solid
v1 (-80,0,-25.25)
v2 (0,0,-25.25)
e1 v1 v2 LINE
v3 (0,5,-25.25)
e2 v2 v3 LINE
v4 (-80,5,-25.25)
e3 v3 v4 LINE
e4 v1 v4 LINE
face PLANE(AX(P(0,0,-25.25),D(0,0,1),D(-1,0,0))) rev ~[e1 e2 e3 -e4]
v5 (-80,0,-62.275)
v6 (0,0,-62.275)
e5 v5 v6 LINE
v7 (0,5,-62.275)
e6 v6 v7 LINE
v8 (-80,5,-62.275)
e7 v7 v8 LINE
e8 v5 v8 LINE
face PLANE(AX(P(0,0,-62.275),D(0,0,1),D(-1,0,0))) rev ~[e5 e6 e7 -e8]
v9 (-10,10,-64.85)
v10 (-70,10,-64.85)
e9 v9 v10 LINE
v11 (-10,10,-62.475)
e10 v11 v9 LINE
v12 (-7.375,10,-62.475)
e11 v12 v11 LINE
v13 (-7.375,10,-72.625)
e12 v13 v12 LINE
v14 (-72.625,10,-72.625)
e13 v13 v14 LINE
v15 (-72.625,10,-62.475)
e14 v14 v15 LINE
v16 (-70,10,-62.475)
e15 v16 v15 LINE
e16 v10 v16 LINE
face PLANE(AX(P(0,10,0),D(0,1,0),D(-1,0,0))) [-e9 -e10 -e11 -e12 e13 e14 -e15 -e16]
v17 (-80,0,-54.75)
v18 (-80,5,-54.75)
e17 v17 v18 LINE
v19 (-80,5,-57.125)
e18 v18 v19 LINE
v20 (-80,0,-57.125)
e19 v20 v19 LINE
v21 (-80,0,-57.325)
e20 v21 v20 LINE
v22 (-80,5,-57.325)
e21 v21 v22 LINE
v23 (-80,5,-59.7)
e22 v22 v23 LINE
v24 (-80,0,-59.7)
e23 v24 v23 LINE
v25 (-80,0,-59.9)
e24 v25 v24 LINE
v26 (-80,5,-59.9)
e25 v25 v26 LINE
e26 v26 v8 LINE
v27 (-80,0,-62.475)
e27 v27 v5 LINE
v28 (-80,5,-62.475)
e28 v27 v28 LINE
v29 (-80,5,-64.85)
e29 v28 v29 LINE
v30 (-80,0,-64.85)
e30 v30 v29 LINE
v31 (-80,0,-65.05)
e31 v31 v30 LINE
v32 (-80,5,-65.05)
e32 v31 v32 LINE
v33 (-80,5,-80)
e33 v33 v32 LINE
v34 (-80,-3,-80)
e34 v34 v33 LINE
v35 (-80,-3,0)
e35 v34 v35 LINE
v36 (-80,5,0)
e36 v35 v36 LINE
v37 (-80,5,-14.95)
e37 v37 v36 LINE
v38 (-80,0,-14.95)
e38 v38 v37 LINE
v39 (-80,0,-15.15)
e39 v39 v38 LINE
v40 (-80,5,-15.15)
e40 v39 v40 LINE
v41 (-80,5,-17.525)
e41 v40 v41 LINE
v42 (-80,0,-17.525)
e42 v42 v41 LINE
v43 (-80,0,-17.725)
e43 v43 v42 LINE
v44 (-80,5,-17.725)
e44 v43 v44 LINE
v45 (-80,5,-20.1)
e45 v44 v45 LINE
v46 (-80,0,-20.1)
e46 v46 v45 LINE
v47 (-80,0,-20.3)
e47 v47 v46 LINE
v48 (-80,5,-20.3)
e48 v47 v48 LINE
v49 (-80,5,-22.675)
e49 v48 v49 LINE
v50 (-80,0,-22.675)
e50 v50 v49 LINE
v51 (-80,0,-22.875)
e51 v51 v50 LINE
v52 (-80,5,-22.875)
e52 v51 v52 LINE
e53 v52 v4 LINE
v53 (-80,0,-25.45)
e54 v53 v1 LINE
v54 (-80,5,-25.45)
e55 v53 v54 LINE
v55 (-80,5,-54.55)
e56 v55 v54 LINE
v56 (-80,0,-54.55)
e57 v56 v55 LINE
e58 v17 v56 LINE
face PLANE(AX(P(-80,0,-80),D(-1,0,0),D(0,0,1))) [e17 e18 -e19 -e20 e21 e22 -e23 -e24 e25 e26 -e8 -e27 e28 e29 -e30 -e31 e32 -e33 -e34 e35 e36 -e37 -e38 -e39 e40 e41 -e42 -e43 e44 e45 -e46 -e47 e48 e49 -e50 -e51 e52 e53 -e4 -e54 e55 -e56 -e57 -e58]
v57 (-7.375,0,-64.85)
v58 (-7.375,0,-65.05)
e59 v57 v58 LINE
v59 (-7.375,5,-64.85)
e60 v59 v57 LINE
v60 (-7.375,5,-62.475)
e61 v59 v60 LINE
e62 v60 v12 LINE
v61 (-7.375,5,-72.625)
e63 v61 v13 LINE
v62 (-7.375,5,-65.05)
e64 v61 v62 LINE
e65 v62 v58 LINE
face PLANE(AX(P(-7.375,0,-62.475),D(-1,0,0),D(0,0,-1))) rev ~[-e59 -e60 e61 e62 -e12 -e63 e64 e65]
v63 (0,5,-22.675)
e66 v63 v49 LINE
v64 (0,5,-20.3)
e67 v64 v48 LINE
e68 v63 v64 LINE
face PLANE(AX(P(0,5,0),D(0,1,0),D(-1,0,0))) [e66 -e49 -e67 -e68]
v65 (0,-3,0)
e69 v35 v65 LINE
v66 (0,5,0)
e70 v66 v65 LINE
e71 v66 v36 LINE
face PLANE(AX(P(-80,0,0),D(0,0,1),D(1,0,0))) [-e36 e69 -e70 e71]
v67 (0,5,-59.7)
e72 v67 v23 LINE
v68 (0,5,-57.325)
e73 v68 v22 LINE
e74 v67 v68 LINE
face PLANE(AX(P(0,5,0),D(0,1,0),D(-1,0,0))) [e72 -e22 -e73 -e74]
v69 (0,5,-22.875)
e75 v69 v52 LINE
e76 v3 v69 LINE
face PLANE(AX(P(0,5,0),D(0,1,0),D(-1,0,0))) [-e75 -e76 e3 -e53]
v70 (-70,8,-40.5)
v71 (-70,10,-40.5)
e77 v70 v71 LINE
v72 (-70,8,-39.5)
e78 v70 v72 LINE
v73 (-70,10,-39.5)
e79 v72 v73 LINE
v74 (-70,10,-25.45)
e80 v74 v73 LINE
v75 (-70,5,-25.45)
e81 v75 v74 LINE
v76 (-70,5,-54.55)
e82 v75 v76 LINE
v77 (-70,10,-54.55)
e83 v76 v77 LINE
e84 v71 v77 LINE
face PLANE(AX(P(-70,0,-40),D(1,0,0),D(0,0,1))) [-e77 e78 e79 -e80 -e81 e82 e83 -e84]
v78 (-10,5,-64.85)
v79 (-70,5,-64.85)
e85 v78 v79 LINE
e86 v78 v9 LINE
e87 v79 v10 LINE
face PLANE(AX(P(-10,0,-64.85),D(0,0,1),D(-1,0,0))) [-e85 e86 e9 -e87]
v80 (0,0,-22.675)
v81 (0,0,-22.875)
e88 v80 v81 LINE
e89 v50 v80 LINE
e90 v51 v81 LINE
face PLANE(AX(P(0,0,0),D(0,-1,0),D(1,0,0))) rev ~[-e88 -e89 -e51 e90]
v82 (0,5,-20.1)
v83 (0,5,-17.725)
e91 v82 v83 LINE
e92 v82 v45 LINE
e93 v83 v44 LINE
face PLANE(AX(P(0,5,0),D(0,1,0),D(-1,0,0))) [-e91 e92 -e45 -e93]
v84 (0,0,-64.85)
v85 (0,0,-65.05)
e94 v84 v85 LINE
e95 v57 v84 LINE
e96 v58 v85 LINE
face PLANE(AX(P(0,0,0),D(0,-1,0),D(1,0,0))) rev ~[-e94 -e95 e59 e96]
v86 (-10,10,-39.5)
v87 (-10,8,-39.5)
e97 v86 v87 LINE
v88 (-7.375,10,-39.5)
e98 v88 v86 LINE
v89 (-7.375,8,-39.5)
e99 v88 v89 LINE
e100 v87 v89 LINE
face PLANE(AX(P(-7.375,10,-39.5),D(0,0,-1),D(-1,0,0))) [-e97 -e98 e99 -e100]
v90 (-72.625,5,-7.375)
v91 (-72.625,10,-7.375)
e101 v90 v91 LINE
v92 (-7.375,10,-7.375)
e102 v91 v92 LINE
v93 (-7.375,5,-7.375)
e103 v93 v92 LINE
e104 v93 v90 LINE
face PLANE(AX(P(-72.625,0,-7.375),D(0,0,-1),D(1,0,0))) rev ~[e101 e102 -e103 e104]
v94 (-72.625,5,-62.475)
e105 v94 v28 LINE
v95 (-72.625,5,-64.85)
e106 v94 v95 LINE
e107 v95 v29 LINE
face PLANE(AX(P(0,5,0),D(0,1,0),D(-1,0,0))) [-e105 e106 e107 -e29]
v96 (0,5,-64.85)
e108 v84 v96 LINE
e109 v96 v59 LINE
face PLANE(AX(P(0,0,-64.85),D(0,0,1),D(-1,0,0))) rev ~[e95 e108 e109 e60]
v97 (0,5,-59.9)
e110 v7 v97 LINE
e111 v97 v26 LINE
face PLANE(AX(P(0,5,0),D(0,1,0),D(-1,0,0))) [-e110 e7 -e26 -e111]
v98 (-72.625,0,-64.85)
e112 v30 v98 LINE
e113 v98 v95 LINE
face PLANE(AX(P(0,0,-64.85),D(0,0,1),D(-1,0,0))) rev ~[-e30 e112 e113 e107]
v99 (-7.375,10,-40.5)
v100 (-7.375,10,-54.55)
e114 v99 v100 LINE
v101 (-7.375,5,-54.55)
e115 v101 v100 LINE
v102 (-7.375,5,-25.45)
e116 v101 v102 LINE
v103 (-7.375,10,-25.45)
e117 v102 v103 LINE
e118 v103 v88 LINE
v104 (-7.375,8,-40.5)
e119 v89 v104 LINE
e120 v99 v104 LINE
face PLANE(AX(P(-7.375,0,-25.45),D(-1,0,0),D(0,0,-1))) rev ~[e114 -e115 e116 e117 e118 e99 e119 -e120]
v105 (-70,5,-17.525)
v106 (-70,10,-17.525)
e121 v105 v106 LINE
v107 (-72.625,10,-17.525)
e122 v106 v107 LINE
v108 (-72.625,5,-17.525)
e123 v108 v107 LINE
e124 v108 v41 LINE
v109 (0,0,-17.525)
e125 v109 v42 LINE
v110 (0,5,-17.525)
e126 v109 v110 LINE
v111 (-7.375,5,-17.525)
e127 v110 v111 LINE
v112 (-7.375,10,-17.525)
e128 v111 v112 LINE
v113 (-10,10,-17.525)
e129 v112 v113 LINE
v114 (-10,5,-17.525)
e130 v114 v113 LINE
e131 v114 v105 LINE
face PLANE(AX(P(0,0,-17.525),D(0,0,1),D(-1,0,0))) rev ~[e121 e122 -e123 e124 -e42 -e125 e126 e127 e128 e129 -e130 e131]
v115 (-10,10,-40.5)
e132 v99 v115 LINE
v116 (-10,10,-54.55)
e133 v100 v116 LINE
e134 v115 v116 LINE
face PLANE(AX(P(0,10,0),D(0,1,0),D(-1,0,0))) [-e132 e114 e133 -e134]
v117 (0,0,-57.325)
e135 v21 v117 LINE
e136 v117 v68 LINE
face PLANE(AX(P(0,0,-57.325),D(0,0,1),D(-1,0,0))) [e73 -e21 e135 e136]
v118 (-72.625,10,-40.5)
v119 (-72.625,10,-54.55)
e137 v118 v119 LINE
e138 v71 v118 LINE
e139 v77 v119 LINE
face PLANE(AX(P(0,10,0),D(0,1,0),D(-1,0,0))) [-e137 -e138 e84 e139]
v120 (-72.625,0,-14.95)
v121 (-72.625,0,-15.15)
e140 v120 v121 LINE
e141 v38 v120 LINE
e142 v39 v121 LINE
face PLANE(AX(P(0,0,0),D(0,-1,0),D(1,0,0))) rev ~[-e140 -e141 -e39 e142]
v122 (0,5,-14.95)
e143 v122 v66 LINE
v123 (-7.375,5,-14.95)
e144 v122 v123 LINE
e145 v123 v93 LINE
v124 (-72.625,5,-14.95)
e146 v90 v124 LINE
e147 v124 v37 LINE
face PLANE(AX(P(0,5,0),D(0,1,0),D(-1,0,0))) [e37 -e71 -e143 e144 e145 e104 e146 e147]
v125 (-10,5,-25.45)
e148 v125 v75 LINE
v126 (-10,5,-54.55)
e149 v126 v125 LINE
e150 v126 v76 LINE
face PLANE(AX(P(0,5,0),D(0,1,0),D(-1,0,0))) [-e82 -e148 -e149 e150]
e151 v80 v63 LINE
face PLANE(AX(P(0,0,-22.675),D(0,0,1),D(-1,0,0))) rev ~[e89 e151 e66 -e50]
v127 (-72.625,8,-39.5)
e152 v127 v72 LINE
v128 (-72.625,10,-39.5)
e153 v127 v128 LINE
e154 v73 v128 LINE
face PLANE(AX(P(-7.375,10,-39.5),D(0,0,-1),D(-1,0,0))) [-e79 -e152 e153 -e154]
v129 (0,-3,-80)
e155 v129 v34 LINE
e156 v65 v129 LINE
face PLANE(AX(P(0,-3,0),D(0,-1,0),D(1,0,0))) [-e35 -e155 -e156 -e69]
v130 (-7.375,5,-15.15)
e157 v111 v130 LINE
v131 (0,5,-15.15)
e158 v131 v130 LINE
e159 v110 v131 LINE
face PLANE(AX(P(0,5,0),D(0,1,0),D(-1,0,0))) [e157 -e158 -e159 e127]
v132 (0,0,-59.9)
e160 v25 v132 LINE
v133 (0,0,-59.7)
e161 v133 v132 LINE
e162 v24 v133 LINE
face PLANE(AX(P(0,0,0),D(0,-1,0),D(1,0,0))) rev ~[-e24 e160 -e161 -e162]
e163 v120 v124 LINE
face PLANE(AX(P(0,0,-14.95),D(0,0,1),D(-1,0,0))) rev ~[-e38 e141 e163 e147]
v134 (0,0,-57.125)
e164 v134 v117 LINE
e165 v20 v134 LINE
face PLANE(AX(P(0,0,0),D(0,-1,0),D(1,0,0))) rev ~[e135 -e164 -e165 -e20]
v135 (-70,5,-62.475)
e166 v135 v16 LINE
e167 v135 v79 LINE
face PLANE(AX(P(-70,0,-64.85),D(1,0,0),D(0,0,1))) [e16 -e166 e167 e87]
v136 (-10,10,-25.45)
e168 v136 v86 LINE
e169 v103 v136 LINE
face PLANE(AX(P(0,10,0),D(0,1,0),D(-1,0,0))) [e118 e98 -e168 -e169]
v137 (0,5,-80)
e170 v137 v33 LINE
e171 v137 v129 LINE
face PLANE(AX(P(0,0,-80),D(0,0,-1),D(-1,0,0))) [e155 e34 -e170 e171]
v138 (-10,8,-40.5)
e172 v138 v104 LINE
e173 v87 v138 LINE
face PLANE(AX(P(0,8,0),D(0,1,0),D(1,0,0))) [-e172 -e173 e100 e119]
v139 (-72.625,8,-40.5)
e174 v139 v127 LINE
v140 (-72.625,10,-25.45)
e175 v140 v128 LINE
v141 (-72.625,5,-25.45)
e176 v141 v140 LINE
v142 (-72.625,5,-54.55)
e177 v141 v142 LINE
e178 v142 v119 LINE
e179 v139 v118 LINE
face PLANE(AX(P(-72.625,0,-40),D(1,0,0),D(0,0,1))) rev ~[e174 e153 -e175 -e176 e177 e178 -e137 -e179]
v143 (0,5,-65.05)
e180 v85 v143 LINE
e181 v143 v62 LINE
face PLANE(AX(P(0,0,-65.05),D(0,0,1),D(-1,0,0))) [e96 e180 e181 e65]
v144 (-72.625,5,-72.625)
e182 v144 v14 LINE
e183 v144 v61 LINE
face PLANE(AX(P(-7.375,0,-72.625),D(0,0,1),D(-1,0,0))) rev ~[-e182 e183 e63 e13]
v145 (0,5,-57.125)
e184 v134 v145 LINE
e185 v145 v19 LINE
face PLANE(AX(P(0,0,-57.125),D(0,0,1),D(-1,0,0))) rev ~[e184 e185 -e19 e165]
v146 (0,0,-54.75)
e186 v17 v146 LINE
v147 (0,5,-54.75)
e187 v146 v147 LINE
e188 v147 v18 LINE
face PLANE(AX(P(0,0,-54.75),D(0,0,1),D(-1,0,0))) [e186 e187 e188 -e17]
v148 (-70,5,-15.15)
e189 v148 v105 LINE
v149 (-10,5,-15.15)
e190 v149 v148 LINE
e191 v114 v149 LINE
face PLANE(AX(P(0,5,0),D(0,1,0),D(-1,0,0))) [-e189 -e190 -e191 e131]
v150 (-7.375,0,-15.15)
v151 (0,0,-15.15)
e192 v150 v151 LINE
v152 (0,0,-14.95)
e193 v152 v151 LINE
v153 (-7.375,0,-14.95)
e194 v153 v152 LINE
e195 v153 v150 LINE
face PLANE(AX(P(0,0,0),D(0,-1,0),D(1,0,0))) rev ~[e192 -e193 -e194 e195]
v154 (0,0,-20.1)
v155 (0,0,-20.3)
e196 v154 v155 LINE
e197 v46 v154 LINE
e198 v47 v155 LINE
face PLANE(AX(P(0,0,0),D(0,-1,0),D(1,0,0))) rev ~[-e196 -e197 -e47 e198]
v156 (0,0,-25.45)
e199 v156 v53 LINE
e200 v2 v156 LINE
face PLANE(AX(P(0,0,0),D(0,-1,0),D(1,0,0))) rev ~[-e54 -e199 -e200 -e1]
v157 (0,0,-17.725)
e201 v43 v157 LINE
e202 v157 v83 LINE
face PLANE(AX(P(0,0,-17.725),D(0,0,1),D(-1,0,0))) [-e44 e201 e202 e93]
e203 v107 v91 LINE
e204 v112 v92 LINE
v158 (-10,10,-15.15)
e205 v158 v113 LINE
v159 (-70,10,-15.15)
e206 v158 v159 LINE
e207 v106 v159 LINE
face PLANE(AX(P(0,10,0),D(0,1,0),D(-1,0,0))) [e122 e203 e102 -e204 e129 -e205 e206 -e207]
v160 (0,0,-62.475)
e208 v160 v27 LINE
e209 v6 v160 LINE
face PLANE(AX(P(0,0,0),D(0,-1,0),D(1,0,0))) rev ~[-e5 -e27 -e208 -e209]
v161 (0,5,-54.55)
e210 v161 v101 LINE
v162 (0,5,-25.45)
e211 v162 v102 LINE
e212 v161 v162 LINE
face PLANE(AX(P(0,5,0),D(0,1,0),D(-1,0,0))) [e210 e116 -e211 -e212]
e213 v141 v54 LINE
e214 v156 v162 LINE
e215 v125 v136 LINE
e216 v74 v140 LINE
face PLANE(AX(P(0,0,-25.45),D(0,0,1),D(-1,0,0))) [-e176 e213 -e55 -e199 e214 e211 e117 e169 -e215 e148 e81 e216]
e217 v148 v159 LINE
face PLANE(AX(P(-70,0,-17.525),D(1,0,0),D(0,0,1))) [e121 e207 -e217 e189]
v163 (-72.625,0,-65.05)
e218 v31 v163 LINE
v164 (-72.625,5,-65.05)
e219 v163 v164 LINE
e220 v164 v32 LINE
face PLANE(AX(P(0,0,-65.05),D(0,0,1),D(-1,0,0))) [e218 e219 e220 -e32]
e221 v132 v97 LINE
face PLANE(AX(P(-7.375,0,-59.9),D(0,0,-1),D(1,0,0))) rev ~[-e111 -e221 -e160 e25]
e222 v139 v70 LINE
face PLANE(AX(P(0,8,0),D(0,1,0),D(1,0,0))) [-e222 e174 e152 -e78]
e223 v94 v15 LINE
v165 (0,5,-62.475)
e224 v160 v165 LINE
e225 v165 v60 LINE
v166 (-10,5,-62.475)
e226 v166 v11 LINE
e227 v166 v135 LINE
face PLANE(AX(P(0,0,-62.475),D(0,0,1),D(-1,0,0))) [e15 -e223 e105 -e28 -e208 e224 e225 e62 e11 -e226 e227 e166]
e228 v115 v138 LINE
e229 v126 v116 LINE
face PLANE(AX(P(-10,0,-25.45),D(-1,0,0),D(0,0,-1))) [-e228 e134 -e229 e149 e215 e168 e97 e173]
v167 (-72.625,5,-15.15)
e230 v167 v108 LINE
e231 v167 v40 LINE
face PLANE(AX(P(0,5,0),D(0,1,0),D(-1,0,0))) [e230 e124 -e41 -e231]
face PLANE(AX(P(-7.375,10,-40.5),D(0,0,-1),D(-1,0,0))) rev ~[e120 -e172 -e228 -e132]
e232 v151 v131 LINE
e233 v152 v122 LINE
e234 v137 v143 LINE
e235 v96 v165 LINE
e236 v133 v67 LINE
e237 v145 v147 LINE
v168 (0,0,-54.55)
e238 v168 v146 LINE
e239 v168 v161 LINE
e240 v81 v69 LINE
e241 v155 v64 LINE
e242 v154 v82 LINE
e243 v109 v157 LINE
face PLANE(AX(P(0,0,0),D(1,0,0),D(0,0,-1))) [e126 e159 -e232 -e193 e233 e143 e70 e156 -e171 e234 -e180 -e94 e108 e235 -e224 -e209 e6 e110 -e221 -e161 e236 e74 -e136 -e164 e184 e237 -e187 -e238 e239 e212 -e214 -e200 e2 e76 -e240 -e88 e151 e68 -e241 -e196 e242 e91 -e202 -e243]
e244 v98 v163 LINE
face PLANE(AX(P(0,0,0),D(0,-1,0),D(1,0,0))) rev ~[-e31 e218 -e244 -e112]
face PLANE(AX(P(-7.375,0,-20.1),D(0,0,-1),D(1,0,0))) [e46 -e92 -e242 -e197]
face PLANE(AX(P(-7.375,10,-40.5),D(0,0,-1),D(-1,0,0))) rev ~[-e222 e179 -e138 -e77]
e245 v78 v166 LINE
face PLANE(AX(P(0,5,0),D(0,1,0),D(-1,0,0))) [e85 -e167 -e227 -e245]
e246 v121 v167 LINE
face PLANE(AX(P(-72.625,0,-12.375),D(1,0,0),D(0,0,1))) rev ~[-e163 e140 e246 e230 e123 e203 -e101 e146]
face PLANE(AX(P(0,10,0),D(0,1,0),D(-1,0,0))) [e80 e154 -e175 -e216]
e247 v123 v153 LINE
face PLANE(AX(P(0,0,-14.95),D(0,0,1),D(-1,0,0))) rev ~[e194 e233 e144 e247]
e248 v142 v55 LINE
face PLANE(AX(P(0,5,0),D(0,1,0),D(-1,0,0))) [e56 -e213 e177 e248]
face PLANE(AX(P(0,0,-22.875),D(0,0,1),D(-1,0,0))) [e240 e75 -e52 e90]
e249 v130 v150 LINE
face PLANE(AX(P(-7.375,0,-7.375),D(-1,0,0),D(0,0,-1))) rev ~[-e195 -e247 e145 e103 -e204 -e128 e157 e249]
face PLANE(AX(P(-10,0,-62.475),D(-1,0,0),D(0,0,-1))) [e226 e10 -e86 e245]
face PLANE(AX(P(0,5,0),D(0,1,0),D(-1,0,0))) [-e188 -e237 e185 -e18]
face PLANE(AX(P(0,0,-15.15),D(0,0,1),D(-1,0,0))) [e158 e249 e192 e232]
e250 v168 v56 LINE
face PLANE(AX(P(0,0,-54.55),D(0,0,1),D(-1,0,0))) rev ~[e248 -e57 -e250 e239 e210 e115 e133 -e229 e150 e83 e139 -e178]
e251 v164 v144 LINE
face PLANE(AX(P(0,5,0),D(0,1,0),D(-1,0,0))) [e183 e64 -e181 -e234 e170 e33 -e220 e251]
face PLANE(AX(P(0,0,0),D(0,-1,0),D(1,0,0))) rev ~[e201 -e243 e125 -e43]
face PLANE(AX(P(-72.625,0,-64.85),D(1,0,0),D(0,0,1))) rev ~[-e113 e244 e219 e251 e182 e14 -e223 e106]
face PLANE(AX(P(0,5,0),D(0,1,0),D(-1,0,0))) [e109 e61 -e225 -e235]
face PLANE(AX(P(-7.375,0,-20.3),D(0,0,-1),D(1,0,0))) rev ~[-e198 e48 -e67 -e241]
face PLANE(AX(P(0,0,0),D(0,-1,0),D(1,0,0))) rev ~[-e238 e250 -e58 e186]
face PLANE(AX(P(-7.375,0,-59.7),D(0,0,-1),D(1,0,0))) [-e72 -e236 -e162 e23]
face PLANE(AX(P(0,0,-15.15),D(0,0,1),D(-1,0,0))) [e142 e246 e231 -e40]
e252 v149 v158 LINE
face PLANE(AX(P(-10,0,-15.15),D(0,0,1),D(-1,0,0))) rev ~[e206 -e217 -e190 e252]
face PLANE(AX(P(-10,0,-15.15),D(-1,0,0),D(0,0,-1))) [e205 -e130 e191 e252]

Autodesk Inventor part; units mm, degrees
ref_plane "YZ Plane" through (0, 0, 0) normal (1, 0, 0) x (0, 1, 0)
ref_plane "XZ Plane" through (0, 0, 0) normal (0, 1, 0) x (-1, 0, 0)
ref_plane "XY Plane" through (0, 0, 0) normal (0, 0, 1) x (1, 0, 0)
sketch "Boceto1" plane through (0, 0, 0) normal (0, 1, 0) x (-1, 0, 0)
  line L0 (0, 0) -> (80, 0)
  line L1 (80, 0) -> (80, -80)
  line L2 (80, -80) -> (0, -80)
  line L3 (0, -80) -> (0, 0)
  line L4 (10, -70) -> (70, -70)
  line L5 (70, -70) -> (70, -10)
  line L6 (70, -10) -> (10, -10)
  line L7 (10, -10) -> (10, -70)
  line L8 (0, -12.375) -> (80, -12.375)
  line L9 (0, -14.95) -> (80, -14.95)
  line L10 (0, -17.525) -> (80, -17.525)
  line L11 (80, -20.1) -> (0, -20.1)
  line L12 (0, -22.675) -> (80, -22.675)
  line L13 (0, -12.575) -> (80, -12.575)
  line L14 (0, -15.15) -> (80, -15.15)
  line L15 (0, -17.725) -> (80, -17.725)
  line L16 (80, -20.3) -> (0, -20.3)
  line L17 (0, -22.875) -> (80, -22.875)
  line L18 (0, -25.25) -> (80, -25.25)
  line L19 (0, -25.45) -> (80, -25.45)
  line L20 (10, -40) -> (80, -40)
  line L21 (0, -67.625) -> (80, -67.625)
  line L22 (0, -65.05) -> (80, -65.05)
  line L23 (0, -62.475) -> (80, -62.475)
  line L24 (80, -59.9) -> (0, -59.9)
  line L25 (0, -57.325) -> (80, -57.325)
  line L26 (0, -67.425) -> (80, -67.425)
  line L27 (0, -64.85) -> (80, -64.85)
  line L28 (0, -62.275) -> (80, -62.275)
  line L29 (80, -59.7) -> (0, -59.7)
  line L30 (0, -57.125) -> (80, -57.125)
  line L31 (0, -54.75) -> (80, -54.75)
  line L32 (0, -54.55) -> (80, -54.55)
  line L33 (72.625, -7.375) -> (7.375, -7.375)
  line L34 (7.375, -7.375) -> (7.375, -72.625)
  line L35 (7.375, -72.625) -> (72.625, -72.625)
  line L36 (72.625, -72.625) -> (72.625, -7.375)
  line L37 (7.375, 0) -> (0, 0)
  line L38 (7.375, -80) -> (0, -80)
  point P0 (10, -12.375)
  point P1 (70, -12.375)
  point P2 (10, -14.95)
  point P3 (70, -14.95)
  point P4 (10, -17.525)
  point P5 (70, -17.525)
  point P6 (70, -20.1)
  point P7 (10, -20.1)
  point P8 (10, -22.675)
  point P9 (70, -22.675)
  point P10 (10, -12.575)
  point P11 (70, -12.575)
  point P12 (10, -15.15)
  point P13 (70, -15.15)
  point P14 (10, -17.725)
  point P15 (70, -17.725)
  point P16 (70, -20.3)
  point P17 (10, -20.3)
  point P18 (10, -22.875)
  point P19 (70, -22.875)
  point P20 (10, -25.25)
  point P21 (70, -25.25)
  point P22 (10, -25.45)
  point P23 (70, -25.45)
  point P24 (10, -67.625)
  point P25 (70, -67.625)
  point P26 (10, -65.05)
  point P27 (70, -65.05)
  point P28 (10, -62.475)
  point P29 (70, -62.475)
  point P30 (70, -59.9)
  point P31 (10, -59.9)
  point P32 (10, -57.325)
  point P33 (70, -57.325)
  point P34 (10, -67.425)
  point P35 (70, -67.425)
  point P36 (10, -64.85)
  point P37 (70, -64.85)
  point P38 (10, -62.275)
  point P39 (70, -62.275)
  point P40 (70, -59.7)
  point P41 (10, -59.7)
  point P42 (10, -57.125)
  point P43 (70, -57.125)
  point P44 (10, -54.75)
  point P45 (70, -54.75)
  point P46 (10, -54.55)
  point P47 (70, -54.55)
  point P48 (72.625, -12.375)
  point P49 (7.375, -12.375)
  point P50 (72.625, -54.55)
  point P51 (72.625, -25.45)
  point P52 (70, -25.45)
  point P53 (70, -54.55)
  point P54 (7.375, -25.45)
  point P55 (7.375, -54.55)
  point P56 (10, -54.55)
  point P57 (10, -25.45)
  point P58 (10, -67.625)
  point P59 (7.375, -67.625)
  point P60 (72.625, -67.625)
  point P61 (70, -67.625)
  point P62 (7.375, -14.95)
  point P63 (72.625, -14.95)
  point P64 (72.625, -65.05)
  point P65 (70, -65.05)
  point P66 (10, -65.05)
  point P67 (7.375, -65.05)
  point P68 (70, -67.425)
  point P69 (10, -67.425)
  point P70 (10, -12.575)
  point P71 (70, -12.575)
  point P72 (72.625, -64.85)
  point P73 (7.375, -64.85)
  point P74 (7.375, -15.15)
  point P75 (70, -15.15)
  point P76 (7.375, -62.475)
  point P77 (10, -64.85)
  point P78 (10, -62.475)
  point P79 (72.625, -62.475)
  point P80 (70, -62.475)
  point P81 (70, -64.85)
  point P82 (7.375, -17.525)
  point P83 (10, -15.15)
  point P84 (72.625, -17.525)
  dimension "d0" = 80
  dimension "d1" = 80
  dimension "d2" = 60
  dimension "d3" = 60
  dimension "d4" = 10
  dimension "d5" = 10
  dimension "d6" = 2.375
  dimension "d7" = 0.2
  dimension "d8" = 2.375
  dimension "d9" = 0.2
  dimension "d10" = 0.2
  dimension "d11" = 0.2
  dimension "d12" = 0.2
  dimension "d13" = 2.375
  dimension "d14" = 2.375
  dimension "d15" = 2.375
  dimension "d16" = 2.375
  dimension "d17" = 0.2
  dimension "d35" = 5
extrude "Extrusión1" add sketch "Boceto1" along normal blind 5 contours L0 L1 L8 L36 L33 L34 L3 | L8 L34 L13 L3 | L13 L34 L9 L3 | L34 L33 L36 L8 L5 L6 L7 | L8 L7 L13 L34 | L1 L13 L36 L8 | L13 L7 L9 L34 | L8 L5 L13 L7 | L7 L6 L5 L8 | L1 L9 L36 L13 | L36 L13 L5 L8 | L14 L34 L10 L3 | L13 L5 L9 L7 | L36 L9 L5 L13 | L14 L7 L10 L34 | L1 L10 L36 L14 | L15 L34 L11 L3 | L14 L5 L10 L7 | L36 L10 L5 L14 | L15 L7 L11 L34 | L1 L11 L36 L15 | L16 L34 L12 L3 | L15 L5 L11 L7 | L36 L11 L5 L15 | L16 L7 L12 L34 | L1 L12 L36 L16 | L17 L34 L18 L3 | L16 L5 L12 L7 | L36 L12 L5 L16 | L17 L7 L18 L34 | L1 L18 L36 L17 | L19 L34 L32 L3 | L17 L5 L18 L7 | L36 L18 L5 L17 | L19 L7 L32 L34 | L1 L20 L36 L19 | L31 L34 L30 L3 | L19 L5 L20 L7 | L1 L32 L36 L20 | L36 L20 L5 L19 | L31 L7 L30 L34 | L7 L20 L5 L32 | L36 L32 L5 L20 | L25 L34 L29 L3 | L31 L5 L30 L7 | L1 L30 L36 L31 | L25 L7 L29 L34 | L31 L36 L30 L5 | L24 L34 L28 L3 | L25 L5 L29 L7 | L1 L29 L36 L25 | L24 L7 L28 L34 | L25 L36 L29 L5 | L23 L34 L27 L3 | L24 L5 L28 L7 | L1 L28 L36 L24 | L23 L7 L27 L34 | L24 L36 L28 L5 | L22 L34 L26 L3 | L23 L5 L27 L7 | L1 L27 L36 L23 | L26 L34 L21 L3 | L22 L7 L26 L34 | L23 L36 L27 L5 | L21 L34 L35 L36 L1 L2 L3 | L26 L7 L21 L34 | L22 L5 L26 L7 | L1 L26 L36 L22 | L21 L7 L4 L5 L36 L35 L34 | L26 L5 L21 L7 | L22 L36 L26 L5 | L1 L21 L36 L26 | L21 L5 L4 L7 | L26 L36 L21 L5
sketch "Boceto2" plane through (0, 0, 0) normal (0, -1, 0) x (1, 0, 0)
  line L0 (0, -80) -> (-80, -80) projected
  line L1 (-80, 0) -> (0, 0) projected
  line L2 (-80, -80) -> (-80, 0)
  line L3 (-80, 0) -> (0, 0)
  line L4 (-80, -65.05) -> (0, -65.05) construction
  line L5 (0, 0) -> (0, -80)
  line L6 (-80, -80) -> (0, -80)
extrude "Extrusión4" add sketch "Boceto2" along normal blind 3
extrude "Extrusión5" add sketch "Boceto1" along normal blind 10 contours L34 L33 L36 L8 L5 L6 L7 | L8 L7 L13 L34 | L13 L7 L9 L34 | L8 L5 L13 L7 | L7 L6 L5 L8 | L36 L13 L5 L8 | L9 L7 L14 L34 | L13 L5 L9 L7 | L36 L9 L5 L13 | L14 L7 L10 L34 | L9 L5 L14 L7 | L36 L14 L5 L9 | L36 L10 L5 L14 | L19 L7 L32 L34 | L36 L20 L5 L19 | L36 L32 L5 L20 | L23 L7 L27 L34 | L27 L7 L22 L34 | L22 L7 L26 L34 | L27 L5 L22 L7 | L23 L36 L27 L5 | L26 L7 L21 L34 | L22 L5 L26 L7 | L27 L36 L22 L5 | L21 L7 L4 L5 L36 L35 L34 | L26 L5 L21 L7 | L22 L36 L26 L5 | L21 L5 L4 L7 | L26 L36 L21 L5
sketch "Boceto3" plane through (0, 10, 0) normal (0, 1, 0) x (1, 0, 0)
  line L0 (-7.375, 25.45) -> (-7.375, 54.55) projected
  line L1 (-7.375, 40) -> (-86.5517, 40)
  line L2 (-5, 39.5) -> (-84.1767, 39.5)
  line L3 (-5, 40.5) -> (-84.1767, 40.5)
  line L4 (-10, 54.55) -> (-10, 25.45) projected
  line L5 (-5, 40.5) -> (-5, 39.5)
  line L6 (-84.1767, 40.5) -> (-84.1767, 39.5)
  point P0 (0, 0)
  point P1 (-10, 40)
  point P2 (-10, 39.5)
  point P3 (-10, 40.5)
  point P4 (-7.375, 39.5)
  point P5 (-7.375, 40.5)
  dimension "d31" = 0.5
  dimension "d32" = 0.5
extrude "Extrusión6" cut sketch "Boceto3" against normal blind 2 contours L2 L4 L1 L0 | L1 L4 L3 L0 | L2 L6 L1 L4 | L1 L6 L3 L4
equation "\"d8\" = d6"
equation "\"d9\" = d7"
equation "\"d10\" = d9"
equation "\"d11\" = d7"
equation "\"d12\" = d7"
equation "\"d13\" = d6"
equation "\"d14\" = d6"
equation "\"d15\" = d6"
equation "\"d16\" = d6"
equation "\"d17\" = d7"
properties part number "Cortador Ancho PDMS5"
